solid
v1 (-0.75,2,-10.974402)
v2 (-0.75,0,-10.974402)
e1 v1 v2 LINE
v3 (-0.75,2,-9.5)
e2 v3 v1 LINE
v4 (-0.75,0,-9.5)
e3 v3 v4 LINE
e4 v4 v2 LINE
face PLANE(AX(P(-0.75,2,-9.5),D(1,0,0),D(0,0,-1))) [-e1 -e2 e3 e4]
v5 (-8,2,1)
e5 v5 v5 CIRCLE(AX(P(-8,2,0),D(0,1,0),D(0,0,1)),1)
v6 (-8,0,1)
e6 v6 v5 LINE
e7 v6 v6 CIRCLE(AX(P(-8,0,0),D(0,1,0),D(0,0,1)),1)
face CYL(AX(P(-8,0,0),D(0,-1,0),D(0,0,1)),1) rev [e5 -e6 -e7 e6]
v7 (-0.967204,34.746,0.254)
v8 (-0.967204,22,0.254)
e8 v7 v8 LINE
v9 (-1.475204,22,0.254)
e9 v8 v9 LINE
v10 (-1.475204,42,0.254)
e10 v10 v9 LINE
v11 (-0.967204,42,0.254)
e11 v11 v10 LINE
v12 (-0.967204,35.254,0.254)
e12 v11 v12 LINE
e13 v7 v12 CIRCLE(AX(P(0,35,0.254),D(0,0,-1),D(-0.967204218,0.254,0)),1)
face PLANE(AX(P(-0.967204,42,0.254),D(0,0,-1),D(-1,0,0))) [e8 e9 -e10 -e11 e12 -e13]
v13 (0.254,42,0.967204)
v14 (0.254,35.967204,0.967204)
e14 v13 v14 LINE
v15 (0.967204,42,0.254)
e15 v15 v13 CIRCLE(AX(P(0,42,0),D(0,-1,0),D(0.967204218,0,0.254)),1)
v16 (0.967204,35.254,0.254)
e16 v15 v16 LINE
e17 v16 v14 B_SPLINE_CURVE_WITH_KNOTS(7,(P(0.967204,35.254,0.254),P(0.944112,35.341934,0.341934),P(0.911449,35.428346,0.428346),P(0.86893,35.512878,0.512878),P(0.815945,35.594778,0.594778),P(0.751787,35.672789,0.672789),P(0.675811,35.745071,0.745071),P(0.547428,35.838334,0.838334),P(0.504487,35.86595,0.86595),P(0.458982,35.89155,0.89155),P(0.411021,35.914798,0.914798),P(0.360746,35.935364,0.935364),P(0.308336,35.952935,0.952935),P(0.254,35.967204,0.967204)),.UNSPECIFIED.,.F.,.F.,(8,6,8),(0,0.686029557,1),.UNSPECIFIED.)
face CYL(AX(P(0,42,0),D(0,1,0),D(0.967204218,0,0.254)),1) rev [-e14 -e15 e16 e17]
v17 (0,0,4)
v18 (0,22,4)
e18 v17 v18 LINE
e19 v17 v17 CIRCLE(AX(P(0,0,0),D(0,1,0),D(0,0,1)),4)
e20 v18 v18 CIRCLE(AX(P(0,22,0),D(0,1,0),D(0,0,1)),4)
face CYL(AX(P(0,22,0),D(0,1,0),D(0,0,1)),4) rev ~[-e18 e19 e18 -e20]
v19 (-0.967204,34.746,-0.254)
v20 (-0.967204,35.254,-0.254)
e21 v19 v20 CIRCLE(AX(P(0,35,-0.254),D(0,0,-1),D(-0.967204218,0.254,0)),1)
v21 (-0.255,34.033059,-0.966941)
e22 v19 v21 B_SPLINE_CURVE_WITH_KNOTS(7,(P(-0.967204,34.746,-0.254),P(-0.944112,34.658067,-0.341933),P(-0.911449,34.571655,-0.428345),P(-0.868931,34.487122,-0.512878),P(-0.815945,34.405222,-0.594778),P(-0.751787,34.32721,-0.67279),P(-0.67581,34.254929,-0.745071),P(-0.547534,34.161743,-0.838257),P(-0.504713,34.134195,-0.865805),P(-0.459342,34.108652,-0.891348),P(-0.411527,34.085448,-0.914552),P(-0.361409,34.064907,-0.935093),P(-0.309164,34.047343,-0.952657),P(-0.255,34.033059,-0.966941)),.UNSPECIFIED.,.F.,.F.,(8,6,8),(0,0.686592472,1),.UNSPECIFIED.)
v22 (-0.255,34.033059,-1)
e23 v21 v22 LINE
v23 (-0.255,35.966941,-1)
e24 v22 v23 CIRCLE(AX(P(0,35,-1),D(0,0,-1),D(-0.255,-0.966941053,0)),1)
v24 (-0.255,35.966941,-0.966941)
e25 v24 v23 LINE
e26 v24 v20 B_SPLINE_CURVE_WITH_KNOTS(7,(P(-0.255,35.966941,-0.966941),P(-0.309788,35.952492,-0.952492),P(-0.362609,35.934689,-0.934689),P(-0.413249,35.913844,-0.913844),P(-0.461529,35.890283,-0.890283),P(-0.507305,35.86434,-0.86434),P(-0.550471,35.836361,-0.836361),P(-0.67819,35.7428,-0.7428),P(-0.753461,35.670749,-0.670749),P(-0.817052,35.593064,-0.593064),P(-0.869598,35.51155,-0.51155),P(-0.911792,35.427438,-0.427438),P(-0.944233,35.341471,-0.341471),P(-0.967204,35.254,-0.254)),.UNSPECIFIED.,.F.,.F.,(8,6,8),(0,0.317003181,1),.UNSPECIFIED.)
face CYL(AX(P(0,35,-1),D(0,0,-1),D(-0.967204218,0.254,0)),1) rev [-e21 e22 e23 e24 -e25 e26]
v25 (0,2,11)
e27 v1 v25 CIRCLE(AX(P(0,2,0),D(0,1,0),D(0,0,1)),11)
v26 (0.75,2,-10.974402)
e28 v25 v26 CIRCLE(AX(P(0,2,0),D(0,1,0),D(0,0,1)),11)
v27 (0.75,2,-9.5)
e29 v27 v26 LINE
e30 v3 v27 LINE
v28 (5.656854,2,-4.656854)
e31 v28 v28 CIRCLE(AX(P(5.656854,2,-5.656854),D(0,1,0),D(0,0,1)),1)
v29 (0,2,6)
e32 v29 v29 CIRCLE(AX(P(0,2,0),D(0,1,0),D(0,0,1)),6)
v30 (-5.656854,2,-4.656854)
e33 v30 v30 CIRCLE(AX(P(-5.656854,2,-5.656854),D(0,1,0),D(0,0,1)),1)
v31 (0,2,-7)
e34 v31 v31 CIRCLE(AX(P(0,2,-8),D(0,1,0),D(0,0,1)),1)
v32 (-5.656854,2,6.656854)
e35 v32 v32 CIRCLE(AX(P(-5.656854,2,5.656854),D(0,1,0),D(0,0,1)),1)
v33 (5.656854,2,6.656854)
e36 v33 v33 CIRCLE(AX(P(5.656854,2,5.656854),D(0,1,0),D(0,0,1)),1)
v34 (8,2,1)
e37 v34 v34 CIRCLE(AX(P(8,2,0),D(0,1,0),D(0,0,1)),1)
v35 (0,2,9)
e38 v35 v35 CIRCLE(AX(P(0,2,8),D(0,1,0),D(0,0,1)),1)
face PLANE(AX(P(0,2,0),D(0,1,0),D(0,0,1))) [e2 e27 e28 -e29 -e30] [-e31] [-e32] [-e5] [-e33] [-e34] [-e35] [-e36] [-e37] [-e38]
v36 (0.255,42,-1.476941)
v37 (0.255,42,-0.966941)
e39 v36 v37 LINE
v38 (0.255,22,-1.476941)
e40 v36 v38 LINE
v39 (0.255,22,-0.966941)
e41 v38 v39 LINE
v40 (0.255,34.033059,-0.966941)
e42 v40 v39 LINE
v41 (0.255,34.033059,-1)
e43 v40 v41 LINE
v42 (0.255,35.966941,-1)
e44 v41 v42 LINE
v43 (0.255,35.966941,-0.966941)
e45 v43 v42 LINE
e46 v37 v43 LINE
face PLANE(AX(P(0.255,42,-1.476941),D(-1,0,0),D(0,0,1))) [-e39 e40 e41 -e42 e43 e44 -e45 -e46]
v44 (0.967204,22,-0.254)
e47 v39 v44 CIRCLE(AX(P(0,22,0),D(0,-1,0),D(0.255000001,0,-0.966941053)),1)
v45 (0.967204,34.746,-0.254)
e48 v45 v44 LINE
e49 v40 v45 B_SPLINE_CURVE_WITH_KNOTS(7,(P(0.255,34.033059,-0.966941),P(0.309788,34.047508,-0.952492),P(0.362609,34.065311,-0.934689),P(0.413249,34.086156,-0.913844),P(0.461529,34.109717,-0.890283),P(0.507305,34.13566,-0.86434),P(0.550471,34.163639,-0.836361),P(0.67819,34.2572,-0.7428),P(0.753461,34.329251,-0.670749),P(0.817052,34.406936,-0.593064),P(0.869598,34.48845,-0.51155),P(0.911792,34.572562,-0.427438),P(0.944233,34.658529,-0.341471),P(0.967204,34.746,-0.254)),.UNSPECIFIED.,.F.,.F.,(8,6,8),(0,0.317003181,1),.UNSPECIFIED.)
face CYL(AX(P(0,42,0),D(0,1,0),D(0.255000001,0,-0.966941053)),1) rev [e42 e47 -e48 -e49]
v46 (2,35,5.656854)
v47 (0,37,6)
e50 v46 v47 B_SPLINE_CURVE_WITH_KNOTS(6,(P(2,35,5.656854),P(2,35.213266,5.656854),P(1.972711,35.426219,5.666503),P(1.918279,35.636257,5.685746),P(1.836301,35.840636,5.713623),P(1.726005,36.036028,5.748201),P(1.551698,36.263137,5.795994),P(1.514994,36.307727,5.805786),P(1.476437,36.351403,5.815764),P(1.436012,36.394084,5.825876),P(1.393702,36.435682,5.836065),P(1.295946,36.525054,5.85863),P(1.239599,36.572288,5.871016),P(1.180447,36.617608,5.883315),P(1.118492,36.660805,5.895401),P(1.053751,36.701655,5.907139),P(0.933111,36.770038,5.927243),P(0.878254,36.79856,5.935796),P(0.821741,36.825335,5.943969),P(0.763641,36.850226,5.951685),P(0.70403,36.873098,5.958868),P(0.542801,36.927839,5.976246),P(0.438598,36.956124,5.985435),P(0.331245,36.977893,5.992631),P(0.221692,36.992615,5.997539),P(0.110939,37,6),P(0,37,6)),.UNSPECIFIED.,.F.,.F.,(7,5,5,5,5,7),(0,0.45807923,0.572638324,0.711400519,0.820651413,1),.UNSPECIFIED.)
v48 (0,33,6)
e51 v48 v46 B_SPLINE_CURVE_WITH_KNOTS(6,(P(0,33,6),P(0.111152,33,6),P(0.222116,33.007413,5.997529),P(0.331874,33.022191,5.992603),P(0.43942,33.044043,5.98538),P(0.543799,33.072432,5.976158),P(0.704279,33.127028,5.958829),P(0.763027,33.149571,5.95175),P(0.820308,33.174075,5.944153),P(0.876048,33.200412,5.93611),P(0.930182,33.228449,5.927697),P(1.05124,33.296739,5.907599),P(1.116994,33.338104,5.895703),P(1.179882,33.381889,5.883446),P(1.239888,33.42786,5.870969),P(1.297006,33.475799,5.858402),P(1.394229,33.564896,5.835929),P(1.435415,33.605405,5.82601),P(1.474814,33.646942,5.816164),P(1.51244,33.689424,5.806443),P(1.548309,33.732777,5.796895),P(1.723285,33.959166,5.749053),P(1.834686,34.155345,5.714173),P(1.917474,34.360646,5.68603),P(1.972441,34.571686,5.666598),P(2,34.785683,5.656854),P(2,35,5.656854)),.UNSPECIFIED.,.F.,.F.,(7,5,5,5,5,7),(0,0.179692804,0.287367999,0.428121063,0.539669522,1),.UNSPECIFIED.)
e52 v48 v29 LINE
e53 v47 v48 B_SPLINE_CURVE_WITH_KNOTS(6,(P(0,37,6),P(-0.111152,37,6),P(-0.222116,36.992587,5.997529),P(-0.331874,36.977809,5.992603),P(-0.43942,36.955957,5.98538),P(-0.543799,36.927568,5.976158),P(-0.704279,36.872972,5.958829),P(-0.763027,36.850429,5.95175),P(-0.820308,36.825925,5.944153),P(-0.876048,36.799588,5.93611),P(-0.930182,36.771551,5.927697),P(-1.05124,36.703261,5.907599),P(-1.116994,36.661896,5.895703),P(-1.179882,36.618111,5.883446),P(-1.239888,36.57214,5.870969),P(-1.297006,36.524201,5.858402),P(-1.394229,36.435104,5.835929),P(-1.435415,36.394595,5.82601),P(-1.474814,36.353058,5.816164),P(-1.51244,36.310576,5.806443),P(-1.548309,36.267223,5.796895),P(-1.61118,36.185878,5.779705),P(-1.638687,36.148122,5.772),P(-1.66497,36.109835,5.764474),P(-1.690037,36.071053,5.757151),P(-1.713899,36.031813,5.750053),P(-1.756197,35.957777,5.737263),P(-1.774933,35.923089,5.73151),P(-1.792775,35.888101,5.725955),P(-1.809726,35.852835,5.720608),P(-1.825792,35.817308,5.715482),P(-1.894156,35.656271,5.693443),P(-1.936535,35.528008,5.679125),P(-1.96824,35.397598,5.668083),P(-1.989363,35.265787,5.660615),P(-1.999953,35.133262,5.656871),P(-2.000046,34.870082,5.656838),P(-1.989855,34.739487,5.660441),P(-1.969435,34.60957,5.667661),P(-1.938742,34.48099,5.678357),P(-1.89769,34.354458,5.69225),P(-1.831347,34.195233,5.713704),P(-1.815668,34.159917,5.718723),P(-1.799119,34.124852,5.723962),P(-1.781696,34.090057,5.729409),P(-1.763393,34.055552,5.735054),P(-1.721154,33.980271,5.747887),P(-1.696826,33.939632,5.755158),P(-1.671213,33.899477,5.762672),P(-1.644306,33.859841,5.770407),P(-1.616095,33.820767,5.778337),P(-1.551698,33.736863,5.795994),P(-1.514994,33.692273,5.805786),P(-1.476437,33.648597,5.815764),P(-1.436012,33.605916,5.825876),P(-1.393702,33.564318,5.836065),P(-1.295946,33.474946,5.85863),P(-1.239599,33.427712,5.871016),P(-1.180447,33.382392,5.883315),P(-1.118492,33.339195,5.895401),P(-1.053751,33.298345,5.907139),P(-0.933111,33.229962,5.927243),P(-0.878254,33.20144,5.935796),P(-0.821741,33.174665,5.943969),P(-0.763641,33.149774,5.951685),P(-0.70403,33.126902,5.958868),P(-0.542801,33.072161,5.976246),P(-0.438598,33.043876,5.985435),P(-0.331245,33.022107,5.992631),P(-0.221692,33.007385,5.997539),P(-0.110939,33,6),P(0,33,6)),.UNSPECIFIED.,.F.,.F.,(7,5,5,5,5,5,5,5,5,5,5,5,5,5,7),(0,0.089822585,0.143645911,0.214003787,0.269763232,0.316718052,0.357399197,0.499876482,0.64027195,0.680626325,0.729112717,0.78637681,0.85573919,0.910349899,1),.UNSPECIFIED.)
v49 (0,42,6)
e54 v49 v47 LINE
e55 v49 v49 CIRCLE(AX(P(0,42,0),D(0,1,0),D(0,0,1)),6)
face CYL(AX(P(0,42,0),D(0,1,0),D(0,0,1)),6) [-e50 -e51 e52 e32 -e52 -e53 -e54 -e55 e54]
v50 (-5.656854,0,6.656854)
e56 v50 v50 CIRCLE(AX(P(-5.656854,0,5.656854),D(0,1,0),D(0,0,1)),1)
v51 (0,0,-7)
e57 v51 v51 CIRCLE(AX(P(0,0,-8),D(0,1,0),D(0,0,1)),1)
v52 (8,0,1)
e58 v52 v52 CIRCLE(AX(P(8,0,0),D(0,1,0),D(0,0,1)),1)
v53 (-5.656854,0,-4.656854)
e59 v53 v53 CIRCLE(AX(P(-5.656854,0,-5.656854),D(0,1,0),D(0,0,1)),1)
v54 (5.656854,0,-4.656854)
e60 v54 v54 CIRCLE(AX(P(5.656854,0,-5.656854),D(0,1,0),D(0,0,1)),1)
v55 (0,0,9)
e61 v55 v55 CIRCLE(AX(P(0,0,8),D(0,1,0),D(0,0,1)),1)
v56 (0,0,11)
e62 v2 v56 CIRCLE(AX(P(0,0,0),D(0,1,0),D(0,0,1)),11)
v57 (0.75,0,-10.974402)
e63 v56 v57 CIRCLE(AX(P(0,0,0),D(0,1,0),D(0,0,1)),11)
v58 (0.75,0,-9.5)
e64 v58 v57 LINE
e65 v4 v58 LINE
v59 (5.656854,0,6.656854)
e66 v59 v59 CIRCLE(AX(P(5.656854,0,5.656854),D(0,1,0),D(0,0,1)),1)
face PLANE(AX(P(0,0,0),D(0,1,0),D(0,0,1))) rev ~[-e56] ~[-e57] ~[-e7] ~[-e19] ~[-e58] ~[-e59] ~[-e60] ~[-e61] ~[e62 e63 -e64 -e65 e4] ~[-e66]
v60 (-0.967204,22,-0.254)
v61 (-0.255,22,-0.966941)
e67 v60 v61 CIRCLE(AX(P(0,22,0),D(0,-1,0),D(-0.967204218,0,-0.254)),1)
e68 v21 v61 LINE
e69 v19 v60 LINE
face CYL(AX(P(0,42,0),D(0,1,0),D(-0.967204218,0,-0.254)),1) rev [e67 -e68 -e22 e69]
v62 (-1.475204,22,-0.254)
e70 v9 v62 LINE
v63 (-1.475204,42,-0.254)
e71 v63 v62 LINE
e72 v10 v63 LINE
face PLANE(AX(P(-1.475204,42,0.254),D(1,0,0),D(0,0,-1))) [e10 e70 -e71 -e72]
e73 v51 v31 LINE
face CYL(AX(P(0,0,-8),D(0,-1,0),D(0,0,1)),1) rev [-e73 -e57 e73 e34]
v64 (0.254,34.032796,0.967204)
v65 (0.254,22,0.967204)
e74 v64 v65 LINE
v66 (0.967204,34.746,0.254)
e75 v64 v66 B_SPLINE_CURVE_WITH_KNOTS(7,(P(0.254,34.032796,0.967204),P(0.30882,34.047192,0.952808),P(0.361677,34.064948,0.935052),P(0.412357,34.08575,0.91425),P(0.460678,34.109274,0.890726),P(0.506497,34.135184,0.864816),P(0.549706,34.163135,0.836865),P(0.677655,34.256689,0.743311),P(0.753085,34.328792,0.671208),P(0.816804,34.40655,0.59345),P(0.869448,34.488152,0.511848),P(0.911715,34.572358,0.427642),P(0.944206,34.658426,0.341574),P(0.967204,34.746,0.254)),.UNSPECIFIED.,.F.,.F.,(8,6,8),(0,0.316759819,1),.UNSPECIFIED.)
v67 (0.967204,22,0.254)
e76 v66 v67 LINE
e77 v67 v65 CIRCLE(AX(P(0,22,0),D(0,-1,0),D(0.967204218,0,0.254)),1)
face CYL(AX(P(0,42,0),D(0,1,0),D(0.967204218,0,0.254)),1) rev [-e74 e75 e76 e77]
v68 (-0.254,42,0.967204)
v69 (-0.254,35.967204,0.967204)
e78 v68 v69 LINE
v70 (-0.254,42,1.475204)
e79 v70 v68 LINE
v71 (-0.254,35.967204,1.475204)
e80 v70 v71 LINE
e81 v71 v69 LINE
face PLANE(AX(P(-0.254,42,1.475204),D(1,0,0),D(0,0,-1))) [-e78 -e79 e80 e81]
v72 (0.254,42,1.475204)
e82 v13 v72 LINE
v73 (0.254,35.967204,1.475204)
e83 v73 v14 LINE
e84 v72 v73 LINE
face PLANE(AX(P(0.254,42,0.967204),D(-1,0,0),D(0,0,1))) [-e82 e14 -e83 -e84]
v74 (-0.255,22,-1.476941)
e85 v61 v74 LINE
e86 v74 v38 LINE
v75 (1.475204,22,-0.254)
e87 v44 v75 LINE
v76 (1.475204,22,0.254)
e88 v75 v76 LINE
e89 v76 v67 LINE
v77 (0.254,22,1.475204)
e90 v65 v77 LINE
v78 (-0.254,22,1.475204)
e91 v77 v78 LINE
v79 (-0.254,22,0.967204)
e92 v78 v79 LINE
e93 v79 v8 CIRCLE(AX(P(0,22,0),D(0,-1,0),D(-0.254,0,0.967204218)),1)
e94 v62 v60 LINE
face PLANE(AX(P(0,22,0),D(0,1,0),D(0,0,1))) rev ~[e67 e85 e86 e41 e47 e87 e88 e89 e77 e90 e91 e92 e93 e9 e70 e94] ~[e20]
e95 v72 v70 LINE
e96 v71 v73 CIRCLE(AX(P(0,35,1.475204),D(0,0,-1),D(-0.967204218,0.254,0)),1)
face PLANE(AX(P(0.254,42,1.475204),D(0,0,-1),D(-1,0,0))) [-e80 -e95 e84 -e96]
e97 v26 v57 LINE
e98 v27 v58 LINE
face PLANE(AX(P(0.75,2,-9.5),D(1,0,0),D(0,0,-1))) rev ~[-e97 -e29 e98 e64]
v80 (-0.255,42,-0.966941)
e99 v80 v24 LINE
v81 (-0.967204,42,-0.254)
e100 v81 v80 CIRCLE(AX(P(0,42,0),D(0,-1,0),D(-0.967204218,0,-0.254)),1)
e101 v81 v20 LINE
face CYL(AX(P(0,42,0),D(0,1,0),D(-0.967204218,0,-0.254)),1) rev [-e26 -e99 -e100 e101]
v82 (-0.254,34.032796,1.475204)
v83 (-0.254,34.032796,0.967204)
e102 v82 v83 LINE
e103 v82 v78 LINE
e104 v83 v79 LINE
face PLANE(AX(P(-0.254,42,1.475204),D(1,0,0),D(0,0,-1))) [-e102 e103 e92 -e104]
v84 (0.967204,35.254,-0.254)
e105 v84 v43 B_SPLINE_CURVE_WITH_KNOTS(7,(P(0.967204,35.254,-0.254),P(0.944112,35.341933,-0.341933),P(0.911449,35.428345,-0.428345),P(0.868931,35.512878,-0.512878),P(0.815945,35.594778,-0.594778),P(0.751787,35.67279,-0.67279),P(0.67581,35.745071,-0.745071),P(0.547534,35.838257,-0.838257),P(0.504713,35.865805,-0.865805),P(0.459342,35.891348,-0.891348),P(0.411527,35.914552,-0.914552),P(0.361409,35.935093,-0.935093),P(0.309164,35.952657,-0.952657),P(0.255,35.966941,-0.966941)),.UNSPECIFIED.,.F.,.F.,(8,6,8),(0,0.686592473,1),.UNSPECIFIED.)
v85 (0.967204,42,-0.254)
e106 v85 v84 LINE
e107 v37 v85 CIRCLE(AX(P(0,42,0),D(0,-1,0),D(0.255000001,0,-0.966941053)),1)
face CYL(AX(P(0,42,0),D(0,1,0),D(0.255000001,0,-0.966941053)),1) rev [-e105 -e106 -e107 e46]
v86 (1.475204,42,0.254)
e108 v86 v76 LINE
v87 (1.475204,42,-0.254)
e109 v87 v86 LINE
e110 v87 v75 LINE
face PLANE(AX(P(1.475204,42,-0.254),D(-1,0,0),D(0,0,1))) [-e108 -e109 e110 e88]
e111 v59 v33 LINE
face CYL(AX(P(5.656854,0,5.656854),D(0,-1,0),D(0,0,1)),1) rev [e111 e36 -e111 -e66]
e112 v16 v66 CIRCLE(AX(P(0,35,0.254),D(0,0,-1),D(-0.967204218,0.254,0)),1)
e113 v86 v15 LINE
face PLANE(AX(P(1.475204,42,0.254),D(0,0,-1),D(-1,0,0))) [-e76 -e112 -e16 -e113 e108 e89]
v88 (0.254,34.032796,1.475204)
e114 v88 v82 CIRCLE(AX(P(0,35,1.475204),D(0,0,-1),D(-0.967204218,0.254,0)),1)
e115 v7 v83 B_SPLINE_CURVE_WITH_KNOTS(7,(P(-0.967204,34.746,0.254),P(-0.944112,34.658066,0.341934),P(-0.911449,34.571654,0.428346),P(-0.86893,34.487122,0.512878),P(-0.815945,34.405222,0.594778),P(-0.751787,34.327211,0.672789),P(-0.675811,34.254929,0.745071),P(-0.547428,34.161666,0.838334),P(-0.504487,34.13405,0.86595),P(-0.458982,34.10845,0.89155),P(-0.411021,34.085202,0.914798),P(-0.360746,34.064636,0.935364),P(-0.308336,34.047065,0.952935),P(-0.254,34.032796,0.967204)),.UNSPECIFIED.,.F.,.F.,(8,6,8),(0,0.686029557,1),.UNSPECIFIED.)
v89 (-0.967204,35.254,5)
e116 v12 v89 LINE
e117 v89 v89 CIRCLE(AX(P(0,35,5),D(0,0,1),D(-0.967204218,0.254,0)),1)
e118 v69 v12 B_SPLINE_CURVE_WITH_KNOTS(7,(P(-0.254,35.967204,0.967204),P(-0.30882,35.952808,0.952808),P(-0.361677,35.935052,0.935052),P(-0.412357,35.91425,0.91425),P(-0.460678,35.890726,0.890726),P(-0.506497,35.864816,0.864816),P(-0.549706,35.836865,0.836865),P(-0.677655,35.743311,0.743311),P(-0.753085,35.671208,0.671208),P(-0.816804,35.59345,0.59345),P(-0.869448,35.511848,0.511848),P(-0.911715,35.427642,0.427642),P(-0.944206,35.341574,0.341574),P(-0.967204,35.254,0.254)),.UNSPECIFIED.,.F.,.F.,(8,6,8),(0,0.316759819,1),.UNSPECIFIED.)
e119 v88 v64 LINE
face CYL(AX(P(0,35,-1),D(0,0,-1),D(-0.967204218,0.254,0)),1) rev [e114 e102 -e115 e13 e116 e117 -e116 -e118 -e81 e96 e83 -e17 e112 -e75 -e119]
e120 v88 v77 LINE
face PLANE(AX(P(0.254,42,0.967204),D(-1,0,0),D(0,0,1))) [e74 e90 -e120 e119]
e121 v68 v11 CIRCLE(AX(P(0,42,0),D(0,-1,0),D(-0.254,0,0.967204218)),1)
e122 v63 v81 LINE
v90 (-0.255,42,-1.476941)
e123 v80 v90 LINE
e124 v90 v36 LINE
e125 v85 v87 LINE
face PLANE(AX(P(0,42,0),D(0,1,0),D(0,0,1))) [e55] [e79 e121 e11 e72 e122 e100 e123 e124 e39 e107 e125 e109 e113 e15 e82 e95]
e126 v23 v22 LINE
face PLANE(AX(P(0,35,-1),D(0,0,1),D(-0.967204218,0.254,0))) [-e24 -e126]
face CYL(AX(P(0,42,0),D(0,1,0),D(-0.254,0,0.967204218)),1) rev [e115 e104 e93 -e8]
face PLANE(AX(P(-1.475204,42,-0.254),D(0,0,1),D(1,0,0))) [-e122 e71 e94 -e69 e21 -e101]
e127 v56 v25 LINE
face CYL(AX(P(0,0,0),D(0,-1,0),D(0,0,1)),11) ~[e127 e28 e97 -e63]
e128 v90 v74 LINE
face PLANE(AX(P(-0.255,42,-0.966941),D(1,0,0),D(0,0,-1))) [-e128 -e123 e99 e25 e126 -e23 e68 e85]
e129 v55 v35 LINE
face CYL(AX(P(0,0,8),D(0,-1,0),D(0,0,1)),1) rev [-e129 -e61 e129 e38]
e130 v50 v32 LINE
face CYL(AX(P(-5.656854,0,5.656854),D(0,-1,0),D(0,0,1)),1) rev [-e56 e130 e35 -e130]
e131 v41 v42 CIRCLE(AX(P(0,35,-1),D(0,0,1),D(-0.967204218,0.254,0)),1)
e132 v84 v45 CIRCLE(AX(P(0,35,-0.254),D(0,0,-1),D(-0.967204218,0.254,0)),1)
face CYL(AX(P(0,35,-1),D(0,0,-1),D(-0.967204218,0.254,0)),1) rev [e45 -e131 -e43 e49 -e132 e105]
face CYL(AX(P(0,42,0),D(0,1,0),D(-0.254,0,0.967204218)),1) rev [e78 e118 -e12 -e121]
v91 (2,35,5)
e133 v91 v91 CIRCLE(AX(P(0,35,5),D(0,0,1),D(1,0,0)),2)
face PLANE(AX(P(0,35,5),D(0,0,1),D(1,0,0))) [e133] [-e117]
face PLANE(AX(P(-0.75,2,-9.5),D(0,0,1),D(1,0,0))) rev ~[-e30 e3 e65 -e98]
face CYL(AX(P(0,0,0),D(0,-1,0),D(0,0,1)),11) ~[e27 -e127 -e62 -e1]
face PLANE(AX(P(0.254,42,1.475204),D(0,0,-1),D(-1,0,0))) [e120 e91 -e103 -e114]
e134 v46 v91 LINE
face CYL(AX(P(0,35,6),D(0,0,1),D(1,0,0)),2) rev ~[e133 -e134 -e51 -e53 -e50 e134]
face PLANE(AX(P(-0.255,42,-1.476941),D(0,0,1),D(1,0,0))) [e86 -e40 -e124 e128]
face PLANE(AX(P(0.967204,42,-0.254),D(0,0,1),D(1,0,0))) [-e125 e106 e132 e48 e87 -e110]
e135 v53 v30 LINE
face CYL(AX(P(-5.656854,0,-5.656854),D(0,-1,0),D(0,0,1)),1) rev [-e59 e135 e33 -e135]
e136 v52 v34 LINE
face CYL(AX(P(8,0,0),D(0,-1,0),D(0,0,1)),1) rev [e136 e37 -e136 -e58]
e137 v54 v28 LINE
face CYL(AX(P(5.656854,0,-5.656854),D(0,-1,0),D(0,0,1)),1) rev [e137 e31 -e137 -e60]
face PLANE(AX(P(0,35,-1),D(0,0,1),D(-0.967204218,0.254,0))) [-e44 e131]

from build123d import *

# Parameters (mm, degrees)
SKETCH1_R               = 11
SKETCH1_R_2             = 1
BOSS_EXTRUDE1_DEPTH     = 2
SKETCH2_R               = 4
CUT_EXTRUDE1_DEPTH      = 16.684387141
SKETCH4_W               = 1.5
SKETCH4_H               = 3
CUT_EXTRUDE3_DEPTH      = 4
BOSS_EXTRUDE2_START     = 20
SKETCH5_R               = 6
SKETCH5_R_2             = 4
BOSS_EXTRUDE2_DEPTH     = 20
BOSS_EXTRUDE3_START     = 20
SKETCH6_R               = 6
BOSS_EXTRUDE3_DEPTH     = 20
CUT_EXTRUDE4_DEPTH      = 5
CUT_EXTRUDE4_DEPTH_BACK = 1
SKETCH7_R               = 1
SKETCH8_R               = 2
CUT_EXTRUDE5_DEPTH      = 1


with BuildPart() as part:
    # Sketch1 → Boss-Extrude1 (new body)
    with BuildSketch(Plane(origin=(0, 0, 0), x_dir=(1, 0, 0), z_dir=(0, 1, 0))):
        with Locations(Location((0, 0, 0), (0, 0, 270))):
            Circle(SKETCH1_R)
        with Locations(Location((0, 8, 0), (0, 0, 270))):
            Circle(SKETCH1_R_2, mode=Mode.SUBTRACT)
        with Locations(Location((5.656854249, 5.656854249, 0), (0, 0, 270))):
            Circle(SKETCH1_R_2, mode=Mode.SUBTRACT)
        with Locations(Location((8, 0, 0), (0, 0, 270))):
            Circle(SKETCH1_R_2, mode=Mode.SUBTRACT)
        with Locations(Location((5.656854249, -5.656854249, 0), (0, 0, 270))):
            Circle(SKETCH1_R_2, mode=Mode.SUBTRACT)
        with Locations(Location((0, -8, 0), (0, 0, 270))):
            Circle(SKETCH1_R_2, mode=Mode.SUBTRACT)
        with Locations(Location((-5.656854249, -5.656854249, 0), (0, 0, 270))):
            Circle(SKETCH1_R_2, mode=Mode.SUBTRACT)
        with Locations(Location((-8, 0, 0), (0, 0, 270))):
            Circle(SKETCH1_R_2, mode=Mode.SUBTRACT)
        with Locations(Location((-5.656854249, 5.656854249, 0), (0, 0, 270))):
            Circle(SKETCH1_R_2, mode=Mode.SUBTRACT)
    extrude(amount=BOSS_EXTRUDE1_DEPTH)

    # Sketch2 → Cut-Extrude1 (cut, through all)
    with BuildSketch(Plane(origin=(0, 2, 0), x_dir=(1, 0, 0), z_dir=(0, 1, 0))):
        with Locations(Location((0, 0, 0), (0, 0, 270))):
            Circle(SKETCH2_R)
    extrude(amount=-CUT_EXTRUDE1_DEPTH, mode=Mode.SUBTRACT)

    # Sketch4 → Cut-Extrude3 (cut)
    with BuildSketch(Plane(origin=(0, 2, 0), x_dir=(1, 0, 0), z_dir=(0, 1, 0))):
        with Locations((0, 11)):
            Rectangle(SKETCH4_W, SKETCH4_H)
    extrude(amount=-CUT_EXTRUDE3_DEPTH, mode=Mode.SUBTRACT)

    # Sketch5 → Boss-Extrude2 (add)
    with BuildSketch(Plane(origin=(0, 2, 0), x_dir=(1, 0, 0), z_dir=(0, 1, 0)).offset(BOSS_EXTRUDE2_START)):
        with Locations(Location((0, 0, 0), (0, 0, 270))):
            Circle(SKETCH5_R)
        with Locations(Location((0, 0, 0), (0, 0, 270))):
            Circle(SKETCH5_R_2, mode=Mode.SUBTRACT)
    extrude(amount=-BOSS_EXTRUDE2_DEPTH)

    # Sketch6 → Boss-Extrude3 (add)
    with BuildSketch(Plane(origin=(0, 22, 0), x_dir=(1, 0, 0), z_dir=(0, 1, 0)).offset(BOSS_EXTRUDE3_START)):
        with Locations(Location((0, 0, 0), (0, 0, 270))):
            Circle(SKETCH6_R)
        with BuildLine():
            ThreePointArc((-0.967204218, 0.254), (-0.707472278, 0.706741095), (-0.255, 0.966941053))
            Line((-0.255, 0.966941053), (-0.255, 1.476941053))
            Line((-0.255, 1.476941053), (0.255, 1.476941053))
            Line((0.255, 1.476941053), (0.255, 0.966941053))
            ThreePointArc((0.255, 0.966941053), (0.707472278, 0.706741095), (0.967204218, 0.254))
            Line((0.967204218, 0.254), (1.475204218, 0.254))
            Line((1.475204218, 0.254), (1.475204218, -0.254))
            Line((1.475204218, -0.254), (0.967204218, -0.254))
            ThreePointArc((0.967204218, -0.254), (0.707106781, -0.707106781), (0.254, -0.967204218))
            Line((0.254, -0.967204218), (0.254, -1.475204218))
            Line((0.254, -1.475204218), (-0.254, -1.475204218))
            Line((-0.254, -1.475204218), (-0.254, -0.967204218))
            ThreePointArc((-0.254, -0.967204218), (-0.707106781, -0.707106781), (-0.967204218, -0.254))
            Line((-0.967204218, -0.254), (-1.475204218, -0.254))
            Line((-1.475204218, -0.254), (-1.475204218, 0.254))
            Line((-1.475204218, 0.254), (-0.967204218, 0.254))
        make_face(mode=Mode.SUBTRACT)
    extrude(amount=-BOSS_EXTRUDE3_DEPTH)

    # Sketch7 → Cut-Extrude4 (cut, two sides: drawn at the far end of the back side and taken through both)
    with BuildSketch(Plane.XY.offset(-CUT_EXTRUDE4_DEPTH_BACK)):
        with Locations(Location((0, 35, 0), (0, 0, 165.285661458))):
            Circle(SKETCH7_R)
    extrude(amount=CUT_EXTRUDE4_DEPTH + CUT_EXTRUDE4_DEPTH_BACK, mode=Mode.SUBTRACT)

    # Sketch8 → Cut-Extrude5 (cut)
    with BuildSketch(Plane.XY.offset(6)):
        with Locations((0, 35)):
            Circle(SKETCH8_R)
    extrude(amount=-CUT_EXTRUDE5_DEPTH, mode=Mode.SUBTRACT)


solid = part.part
